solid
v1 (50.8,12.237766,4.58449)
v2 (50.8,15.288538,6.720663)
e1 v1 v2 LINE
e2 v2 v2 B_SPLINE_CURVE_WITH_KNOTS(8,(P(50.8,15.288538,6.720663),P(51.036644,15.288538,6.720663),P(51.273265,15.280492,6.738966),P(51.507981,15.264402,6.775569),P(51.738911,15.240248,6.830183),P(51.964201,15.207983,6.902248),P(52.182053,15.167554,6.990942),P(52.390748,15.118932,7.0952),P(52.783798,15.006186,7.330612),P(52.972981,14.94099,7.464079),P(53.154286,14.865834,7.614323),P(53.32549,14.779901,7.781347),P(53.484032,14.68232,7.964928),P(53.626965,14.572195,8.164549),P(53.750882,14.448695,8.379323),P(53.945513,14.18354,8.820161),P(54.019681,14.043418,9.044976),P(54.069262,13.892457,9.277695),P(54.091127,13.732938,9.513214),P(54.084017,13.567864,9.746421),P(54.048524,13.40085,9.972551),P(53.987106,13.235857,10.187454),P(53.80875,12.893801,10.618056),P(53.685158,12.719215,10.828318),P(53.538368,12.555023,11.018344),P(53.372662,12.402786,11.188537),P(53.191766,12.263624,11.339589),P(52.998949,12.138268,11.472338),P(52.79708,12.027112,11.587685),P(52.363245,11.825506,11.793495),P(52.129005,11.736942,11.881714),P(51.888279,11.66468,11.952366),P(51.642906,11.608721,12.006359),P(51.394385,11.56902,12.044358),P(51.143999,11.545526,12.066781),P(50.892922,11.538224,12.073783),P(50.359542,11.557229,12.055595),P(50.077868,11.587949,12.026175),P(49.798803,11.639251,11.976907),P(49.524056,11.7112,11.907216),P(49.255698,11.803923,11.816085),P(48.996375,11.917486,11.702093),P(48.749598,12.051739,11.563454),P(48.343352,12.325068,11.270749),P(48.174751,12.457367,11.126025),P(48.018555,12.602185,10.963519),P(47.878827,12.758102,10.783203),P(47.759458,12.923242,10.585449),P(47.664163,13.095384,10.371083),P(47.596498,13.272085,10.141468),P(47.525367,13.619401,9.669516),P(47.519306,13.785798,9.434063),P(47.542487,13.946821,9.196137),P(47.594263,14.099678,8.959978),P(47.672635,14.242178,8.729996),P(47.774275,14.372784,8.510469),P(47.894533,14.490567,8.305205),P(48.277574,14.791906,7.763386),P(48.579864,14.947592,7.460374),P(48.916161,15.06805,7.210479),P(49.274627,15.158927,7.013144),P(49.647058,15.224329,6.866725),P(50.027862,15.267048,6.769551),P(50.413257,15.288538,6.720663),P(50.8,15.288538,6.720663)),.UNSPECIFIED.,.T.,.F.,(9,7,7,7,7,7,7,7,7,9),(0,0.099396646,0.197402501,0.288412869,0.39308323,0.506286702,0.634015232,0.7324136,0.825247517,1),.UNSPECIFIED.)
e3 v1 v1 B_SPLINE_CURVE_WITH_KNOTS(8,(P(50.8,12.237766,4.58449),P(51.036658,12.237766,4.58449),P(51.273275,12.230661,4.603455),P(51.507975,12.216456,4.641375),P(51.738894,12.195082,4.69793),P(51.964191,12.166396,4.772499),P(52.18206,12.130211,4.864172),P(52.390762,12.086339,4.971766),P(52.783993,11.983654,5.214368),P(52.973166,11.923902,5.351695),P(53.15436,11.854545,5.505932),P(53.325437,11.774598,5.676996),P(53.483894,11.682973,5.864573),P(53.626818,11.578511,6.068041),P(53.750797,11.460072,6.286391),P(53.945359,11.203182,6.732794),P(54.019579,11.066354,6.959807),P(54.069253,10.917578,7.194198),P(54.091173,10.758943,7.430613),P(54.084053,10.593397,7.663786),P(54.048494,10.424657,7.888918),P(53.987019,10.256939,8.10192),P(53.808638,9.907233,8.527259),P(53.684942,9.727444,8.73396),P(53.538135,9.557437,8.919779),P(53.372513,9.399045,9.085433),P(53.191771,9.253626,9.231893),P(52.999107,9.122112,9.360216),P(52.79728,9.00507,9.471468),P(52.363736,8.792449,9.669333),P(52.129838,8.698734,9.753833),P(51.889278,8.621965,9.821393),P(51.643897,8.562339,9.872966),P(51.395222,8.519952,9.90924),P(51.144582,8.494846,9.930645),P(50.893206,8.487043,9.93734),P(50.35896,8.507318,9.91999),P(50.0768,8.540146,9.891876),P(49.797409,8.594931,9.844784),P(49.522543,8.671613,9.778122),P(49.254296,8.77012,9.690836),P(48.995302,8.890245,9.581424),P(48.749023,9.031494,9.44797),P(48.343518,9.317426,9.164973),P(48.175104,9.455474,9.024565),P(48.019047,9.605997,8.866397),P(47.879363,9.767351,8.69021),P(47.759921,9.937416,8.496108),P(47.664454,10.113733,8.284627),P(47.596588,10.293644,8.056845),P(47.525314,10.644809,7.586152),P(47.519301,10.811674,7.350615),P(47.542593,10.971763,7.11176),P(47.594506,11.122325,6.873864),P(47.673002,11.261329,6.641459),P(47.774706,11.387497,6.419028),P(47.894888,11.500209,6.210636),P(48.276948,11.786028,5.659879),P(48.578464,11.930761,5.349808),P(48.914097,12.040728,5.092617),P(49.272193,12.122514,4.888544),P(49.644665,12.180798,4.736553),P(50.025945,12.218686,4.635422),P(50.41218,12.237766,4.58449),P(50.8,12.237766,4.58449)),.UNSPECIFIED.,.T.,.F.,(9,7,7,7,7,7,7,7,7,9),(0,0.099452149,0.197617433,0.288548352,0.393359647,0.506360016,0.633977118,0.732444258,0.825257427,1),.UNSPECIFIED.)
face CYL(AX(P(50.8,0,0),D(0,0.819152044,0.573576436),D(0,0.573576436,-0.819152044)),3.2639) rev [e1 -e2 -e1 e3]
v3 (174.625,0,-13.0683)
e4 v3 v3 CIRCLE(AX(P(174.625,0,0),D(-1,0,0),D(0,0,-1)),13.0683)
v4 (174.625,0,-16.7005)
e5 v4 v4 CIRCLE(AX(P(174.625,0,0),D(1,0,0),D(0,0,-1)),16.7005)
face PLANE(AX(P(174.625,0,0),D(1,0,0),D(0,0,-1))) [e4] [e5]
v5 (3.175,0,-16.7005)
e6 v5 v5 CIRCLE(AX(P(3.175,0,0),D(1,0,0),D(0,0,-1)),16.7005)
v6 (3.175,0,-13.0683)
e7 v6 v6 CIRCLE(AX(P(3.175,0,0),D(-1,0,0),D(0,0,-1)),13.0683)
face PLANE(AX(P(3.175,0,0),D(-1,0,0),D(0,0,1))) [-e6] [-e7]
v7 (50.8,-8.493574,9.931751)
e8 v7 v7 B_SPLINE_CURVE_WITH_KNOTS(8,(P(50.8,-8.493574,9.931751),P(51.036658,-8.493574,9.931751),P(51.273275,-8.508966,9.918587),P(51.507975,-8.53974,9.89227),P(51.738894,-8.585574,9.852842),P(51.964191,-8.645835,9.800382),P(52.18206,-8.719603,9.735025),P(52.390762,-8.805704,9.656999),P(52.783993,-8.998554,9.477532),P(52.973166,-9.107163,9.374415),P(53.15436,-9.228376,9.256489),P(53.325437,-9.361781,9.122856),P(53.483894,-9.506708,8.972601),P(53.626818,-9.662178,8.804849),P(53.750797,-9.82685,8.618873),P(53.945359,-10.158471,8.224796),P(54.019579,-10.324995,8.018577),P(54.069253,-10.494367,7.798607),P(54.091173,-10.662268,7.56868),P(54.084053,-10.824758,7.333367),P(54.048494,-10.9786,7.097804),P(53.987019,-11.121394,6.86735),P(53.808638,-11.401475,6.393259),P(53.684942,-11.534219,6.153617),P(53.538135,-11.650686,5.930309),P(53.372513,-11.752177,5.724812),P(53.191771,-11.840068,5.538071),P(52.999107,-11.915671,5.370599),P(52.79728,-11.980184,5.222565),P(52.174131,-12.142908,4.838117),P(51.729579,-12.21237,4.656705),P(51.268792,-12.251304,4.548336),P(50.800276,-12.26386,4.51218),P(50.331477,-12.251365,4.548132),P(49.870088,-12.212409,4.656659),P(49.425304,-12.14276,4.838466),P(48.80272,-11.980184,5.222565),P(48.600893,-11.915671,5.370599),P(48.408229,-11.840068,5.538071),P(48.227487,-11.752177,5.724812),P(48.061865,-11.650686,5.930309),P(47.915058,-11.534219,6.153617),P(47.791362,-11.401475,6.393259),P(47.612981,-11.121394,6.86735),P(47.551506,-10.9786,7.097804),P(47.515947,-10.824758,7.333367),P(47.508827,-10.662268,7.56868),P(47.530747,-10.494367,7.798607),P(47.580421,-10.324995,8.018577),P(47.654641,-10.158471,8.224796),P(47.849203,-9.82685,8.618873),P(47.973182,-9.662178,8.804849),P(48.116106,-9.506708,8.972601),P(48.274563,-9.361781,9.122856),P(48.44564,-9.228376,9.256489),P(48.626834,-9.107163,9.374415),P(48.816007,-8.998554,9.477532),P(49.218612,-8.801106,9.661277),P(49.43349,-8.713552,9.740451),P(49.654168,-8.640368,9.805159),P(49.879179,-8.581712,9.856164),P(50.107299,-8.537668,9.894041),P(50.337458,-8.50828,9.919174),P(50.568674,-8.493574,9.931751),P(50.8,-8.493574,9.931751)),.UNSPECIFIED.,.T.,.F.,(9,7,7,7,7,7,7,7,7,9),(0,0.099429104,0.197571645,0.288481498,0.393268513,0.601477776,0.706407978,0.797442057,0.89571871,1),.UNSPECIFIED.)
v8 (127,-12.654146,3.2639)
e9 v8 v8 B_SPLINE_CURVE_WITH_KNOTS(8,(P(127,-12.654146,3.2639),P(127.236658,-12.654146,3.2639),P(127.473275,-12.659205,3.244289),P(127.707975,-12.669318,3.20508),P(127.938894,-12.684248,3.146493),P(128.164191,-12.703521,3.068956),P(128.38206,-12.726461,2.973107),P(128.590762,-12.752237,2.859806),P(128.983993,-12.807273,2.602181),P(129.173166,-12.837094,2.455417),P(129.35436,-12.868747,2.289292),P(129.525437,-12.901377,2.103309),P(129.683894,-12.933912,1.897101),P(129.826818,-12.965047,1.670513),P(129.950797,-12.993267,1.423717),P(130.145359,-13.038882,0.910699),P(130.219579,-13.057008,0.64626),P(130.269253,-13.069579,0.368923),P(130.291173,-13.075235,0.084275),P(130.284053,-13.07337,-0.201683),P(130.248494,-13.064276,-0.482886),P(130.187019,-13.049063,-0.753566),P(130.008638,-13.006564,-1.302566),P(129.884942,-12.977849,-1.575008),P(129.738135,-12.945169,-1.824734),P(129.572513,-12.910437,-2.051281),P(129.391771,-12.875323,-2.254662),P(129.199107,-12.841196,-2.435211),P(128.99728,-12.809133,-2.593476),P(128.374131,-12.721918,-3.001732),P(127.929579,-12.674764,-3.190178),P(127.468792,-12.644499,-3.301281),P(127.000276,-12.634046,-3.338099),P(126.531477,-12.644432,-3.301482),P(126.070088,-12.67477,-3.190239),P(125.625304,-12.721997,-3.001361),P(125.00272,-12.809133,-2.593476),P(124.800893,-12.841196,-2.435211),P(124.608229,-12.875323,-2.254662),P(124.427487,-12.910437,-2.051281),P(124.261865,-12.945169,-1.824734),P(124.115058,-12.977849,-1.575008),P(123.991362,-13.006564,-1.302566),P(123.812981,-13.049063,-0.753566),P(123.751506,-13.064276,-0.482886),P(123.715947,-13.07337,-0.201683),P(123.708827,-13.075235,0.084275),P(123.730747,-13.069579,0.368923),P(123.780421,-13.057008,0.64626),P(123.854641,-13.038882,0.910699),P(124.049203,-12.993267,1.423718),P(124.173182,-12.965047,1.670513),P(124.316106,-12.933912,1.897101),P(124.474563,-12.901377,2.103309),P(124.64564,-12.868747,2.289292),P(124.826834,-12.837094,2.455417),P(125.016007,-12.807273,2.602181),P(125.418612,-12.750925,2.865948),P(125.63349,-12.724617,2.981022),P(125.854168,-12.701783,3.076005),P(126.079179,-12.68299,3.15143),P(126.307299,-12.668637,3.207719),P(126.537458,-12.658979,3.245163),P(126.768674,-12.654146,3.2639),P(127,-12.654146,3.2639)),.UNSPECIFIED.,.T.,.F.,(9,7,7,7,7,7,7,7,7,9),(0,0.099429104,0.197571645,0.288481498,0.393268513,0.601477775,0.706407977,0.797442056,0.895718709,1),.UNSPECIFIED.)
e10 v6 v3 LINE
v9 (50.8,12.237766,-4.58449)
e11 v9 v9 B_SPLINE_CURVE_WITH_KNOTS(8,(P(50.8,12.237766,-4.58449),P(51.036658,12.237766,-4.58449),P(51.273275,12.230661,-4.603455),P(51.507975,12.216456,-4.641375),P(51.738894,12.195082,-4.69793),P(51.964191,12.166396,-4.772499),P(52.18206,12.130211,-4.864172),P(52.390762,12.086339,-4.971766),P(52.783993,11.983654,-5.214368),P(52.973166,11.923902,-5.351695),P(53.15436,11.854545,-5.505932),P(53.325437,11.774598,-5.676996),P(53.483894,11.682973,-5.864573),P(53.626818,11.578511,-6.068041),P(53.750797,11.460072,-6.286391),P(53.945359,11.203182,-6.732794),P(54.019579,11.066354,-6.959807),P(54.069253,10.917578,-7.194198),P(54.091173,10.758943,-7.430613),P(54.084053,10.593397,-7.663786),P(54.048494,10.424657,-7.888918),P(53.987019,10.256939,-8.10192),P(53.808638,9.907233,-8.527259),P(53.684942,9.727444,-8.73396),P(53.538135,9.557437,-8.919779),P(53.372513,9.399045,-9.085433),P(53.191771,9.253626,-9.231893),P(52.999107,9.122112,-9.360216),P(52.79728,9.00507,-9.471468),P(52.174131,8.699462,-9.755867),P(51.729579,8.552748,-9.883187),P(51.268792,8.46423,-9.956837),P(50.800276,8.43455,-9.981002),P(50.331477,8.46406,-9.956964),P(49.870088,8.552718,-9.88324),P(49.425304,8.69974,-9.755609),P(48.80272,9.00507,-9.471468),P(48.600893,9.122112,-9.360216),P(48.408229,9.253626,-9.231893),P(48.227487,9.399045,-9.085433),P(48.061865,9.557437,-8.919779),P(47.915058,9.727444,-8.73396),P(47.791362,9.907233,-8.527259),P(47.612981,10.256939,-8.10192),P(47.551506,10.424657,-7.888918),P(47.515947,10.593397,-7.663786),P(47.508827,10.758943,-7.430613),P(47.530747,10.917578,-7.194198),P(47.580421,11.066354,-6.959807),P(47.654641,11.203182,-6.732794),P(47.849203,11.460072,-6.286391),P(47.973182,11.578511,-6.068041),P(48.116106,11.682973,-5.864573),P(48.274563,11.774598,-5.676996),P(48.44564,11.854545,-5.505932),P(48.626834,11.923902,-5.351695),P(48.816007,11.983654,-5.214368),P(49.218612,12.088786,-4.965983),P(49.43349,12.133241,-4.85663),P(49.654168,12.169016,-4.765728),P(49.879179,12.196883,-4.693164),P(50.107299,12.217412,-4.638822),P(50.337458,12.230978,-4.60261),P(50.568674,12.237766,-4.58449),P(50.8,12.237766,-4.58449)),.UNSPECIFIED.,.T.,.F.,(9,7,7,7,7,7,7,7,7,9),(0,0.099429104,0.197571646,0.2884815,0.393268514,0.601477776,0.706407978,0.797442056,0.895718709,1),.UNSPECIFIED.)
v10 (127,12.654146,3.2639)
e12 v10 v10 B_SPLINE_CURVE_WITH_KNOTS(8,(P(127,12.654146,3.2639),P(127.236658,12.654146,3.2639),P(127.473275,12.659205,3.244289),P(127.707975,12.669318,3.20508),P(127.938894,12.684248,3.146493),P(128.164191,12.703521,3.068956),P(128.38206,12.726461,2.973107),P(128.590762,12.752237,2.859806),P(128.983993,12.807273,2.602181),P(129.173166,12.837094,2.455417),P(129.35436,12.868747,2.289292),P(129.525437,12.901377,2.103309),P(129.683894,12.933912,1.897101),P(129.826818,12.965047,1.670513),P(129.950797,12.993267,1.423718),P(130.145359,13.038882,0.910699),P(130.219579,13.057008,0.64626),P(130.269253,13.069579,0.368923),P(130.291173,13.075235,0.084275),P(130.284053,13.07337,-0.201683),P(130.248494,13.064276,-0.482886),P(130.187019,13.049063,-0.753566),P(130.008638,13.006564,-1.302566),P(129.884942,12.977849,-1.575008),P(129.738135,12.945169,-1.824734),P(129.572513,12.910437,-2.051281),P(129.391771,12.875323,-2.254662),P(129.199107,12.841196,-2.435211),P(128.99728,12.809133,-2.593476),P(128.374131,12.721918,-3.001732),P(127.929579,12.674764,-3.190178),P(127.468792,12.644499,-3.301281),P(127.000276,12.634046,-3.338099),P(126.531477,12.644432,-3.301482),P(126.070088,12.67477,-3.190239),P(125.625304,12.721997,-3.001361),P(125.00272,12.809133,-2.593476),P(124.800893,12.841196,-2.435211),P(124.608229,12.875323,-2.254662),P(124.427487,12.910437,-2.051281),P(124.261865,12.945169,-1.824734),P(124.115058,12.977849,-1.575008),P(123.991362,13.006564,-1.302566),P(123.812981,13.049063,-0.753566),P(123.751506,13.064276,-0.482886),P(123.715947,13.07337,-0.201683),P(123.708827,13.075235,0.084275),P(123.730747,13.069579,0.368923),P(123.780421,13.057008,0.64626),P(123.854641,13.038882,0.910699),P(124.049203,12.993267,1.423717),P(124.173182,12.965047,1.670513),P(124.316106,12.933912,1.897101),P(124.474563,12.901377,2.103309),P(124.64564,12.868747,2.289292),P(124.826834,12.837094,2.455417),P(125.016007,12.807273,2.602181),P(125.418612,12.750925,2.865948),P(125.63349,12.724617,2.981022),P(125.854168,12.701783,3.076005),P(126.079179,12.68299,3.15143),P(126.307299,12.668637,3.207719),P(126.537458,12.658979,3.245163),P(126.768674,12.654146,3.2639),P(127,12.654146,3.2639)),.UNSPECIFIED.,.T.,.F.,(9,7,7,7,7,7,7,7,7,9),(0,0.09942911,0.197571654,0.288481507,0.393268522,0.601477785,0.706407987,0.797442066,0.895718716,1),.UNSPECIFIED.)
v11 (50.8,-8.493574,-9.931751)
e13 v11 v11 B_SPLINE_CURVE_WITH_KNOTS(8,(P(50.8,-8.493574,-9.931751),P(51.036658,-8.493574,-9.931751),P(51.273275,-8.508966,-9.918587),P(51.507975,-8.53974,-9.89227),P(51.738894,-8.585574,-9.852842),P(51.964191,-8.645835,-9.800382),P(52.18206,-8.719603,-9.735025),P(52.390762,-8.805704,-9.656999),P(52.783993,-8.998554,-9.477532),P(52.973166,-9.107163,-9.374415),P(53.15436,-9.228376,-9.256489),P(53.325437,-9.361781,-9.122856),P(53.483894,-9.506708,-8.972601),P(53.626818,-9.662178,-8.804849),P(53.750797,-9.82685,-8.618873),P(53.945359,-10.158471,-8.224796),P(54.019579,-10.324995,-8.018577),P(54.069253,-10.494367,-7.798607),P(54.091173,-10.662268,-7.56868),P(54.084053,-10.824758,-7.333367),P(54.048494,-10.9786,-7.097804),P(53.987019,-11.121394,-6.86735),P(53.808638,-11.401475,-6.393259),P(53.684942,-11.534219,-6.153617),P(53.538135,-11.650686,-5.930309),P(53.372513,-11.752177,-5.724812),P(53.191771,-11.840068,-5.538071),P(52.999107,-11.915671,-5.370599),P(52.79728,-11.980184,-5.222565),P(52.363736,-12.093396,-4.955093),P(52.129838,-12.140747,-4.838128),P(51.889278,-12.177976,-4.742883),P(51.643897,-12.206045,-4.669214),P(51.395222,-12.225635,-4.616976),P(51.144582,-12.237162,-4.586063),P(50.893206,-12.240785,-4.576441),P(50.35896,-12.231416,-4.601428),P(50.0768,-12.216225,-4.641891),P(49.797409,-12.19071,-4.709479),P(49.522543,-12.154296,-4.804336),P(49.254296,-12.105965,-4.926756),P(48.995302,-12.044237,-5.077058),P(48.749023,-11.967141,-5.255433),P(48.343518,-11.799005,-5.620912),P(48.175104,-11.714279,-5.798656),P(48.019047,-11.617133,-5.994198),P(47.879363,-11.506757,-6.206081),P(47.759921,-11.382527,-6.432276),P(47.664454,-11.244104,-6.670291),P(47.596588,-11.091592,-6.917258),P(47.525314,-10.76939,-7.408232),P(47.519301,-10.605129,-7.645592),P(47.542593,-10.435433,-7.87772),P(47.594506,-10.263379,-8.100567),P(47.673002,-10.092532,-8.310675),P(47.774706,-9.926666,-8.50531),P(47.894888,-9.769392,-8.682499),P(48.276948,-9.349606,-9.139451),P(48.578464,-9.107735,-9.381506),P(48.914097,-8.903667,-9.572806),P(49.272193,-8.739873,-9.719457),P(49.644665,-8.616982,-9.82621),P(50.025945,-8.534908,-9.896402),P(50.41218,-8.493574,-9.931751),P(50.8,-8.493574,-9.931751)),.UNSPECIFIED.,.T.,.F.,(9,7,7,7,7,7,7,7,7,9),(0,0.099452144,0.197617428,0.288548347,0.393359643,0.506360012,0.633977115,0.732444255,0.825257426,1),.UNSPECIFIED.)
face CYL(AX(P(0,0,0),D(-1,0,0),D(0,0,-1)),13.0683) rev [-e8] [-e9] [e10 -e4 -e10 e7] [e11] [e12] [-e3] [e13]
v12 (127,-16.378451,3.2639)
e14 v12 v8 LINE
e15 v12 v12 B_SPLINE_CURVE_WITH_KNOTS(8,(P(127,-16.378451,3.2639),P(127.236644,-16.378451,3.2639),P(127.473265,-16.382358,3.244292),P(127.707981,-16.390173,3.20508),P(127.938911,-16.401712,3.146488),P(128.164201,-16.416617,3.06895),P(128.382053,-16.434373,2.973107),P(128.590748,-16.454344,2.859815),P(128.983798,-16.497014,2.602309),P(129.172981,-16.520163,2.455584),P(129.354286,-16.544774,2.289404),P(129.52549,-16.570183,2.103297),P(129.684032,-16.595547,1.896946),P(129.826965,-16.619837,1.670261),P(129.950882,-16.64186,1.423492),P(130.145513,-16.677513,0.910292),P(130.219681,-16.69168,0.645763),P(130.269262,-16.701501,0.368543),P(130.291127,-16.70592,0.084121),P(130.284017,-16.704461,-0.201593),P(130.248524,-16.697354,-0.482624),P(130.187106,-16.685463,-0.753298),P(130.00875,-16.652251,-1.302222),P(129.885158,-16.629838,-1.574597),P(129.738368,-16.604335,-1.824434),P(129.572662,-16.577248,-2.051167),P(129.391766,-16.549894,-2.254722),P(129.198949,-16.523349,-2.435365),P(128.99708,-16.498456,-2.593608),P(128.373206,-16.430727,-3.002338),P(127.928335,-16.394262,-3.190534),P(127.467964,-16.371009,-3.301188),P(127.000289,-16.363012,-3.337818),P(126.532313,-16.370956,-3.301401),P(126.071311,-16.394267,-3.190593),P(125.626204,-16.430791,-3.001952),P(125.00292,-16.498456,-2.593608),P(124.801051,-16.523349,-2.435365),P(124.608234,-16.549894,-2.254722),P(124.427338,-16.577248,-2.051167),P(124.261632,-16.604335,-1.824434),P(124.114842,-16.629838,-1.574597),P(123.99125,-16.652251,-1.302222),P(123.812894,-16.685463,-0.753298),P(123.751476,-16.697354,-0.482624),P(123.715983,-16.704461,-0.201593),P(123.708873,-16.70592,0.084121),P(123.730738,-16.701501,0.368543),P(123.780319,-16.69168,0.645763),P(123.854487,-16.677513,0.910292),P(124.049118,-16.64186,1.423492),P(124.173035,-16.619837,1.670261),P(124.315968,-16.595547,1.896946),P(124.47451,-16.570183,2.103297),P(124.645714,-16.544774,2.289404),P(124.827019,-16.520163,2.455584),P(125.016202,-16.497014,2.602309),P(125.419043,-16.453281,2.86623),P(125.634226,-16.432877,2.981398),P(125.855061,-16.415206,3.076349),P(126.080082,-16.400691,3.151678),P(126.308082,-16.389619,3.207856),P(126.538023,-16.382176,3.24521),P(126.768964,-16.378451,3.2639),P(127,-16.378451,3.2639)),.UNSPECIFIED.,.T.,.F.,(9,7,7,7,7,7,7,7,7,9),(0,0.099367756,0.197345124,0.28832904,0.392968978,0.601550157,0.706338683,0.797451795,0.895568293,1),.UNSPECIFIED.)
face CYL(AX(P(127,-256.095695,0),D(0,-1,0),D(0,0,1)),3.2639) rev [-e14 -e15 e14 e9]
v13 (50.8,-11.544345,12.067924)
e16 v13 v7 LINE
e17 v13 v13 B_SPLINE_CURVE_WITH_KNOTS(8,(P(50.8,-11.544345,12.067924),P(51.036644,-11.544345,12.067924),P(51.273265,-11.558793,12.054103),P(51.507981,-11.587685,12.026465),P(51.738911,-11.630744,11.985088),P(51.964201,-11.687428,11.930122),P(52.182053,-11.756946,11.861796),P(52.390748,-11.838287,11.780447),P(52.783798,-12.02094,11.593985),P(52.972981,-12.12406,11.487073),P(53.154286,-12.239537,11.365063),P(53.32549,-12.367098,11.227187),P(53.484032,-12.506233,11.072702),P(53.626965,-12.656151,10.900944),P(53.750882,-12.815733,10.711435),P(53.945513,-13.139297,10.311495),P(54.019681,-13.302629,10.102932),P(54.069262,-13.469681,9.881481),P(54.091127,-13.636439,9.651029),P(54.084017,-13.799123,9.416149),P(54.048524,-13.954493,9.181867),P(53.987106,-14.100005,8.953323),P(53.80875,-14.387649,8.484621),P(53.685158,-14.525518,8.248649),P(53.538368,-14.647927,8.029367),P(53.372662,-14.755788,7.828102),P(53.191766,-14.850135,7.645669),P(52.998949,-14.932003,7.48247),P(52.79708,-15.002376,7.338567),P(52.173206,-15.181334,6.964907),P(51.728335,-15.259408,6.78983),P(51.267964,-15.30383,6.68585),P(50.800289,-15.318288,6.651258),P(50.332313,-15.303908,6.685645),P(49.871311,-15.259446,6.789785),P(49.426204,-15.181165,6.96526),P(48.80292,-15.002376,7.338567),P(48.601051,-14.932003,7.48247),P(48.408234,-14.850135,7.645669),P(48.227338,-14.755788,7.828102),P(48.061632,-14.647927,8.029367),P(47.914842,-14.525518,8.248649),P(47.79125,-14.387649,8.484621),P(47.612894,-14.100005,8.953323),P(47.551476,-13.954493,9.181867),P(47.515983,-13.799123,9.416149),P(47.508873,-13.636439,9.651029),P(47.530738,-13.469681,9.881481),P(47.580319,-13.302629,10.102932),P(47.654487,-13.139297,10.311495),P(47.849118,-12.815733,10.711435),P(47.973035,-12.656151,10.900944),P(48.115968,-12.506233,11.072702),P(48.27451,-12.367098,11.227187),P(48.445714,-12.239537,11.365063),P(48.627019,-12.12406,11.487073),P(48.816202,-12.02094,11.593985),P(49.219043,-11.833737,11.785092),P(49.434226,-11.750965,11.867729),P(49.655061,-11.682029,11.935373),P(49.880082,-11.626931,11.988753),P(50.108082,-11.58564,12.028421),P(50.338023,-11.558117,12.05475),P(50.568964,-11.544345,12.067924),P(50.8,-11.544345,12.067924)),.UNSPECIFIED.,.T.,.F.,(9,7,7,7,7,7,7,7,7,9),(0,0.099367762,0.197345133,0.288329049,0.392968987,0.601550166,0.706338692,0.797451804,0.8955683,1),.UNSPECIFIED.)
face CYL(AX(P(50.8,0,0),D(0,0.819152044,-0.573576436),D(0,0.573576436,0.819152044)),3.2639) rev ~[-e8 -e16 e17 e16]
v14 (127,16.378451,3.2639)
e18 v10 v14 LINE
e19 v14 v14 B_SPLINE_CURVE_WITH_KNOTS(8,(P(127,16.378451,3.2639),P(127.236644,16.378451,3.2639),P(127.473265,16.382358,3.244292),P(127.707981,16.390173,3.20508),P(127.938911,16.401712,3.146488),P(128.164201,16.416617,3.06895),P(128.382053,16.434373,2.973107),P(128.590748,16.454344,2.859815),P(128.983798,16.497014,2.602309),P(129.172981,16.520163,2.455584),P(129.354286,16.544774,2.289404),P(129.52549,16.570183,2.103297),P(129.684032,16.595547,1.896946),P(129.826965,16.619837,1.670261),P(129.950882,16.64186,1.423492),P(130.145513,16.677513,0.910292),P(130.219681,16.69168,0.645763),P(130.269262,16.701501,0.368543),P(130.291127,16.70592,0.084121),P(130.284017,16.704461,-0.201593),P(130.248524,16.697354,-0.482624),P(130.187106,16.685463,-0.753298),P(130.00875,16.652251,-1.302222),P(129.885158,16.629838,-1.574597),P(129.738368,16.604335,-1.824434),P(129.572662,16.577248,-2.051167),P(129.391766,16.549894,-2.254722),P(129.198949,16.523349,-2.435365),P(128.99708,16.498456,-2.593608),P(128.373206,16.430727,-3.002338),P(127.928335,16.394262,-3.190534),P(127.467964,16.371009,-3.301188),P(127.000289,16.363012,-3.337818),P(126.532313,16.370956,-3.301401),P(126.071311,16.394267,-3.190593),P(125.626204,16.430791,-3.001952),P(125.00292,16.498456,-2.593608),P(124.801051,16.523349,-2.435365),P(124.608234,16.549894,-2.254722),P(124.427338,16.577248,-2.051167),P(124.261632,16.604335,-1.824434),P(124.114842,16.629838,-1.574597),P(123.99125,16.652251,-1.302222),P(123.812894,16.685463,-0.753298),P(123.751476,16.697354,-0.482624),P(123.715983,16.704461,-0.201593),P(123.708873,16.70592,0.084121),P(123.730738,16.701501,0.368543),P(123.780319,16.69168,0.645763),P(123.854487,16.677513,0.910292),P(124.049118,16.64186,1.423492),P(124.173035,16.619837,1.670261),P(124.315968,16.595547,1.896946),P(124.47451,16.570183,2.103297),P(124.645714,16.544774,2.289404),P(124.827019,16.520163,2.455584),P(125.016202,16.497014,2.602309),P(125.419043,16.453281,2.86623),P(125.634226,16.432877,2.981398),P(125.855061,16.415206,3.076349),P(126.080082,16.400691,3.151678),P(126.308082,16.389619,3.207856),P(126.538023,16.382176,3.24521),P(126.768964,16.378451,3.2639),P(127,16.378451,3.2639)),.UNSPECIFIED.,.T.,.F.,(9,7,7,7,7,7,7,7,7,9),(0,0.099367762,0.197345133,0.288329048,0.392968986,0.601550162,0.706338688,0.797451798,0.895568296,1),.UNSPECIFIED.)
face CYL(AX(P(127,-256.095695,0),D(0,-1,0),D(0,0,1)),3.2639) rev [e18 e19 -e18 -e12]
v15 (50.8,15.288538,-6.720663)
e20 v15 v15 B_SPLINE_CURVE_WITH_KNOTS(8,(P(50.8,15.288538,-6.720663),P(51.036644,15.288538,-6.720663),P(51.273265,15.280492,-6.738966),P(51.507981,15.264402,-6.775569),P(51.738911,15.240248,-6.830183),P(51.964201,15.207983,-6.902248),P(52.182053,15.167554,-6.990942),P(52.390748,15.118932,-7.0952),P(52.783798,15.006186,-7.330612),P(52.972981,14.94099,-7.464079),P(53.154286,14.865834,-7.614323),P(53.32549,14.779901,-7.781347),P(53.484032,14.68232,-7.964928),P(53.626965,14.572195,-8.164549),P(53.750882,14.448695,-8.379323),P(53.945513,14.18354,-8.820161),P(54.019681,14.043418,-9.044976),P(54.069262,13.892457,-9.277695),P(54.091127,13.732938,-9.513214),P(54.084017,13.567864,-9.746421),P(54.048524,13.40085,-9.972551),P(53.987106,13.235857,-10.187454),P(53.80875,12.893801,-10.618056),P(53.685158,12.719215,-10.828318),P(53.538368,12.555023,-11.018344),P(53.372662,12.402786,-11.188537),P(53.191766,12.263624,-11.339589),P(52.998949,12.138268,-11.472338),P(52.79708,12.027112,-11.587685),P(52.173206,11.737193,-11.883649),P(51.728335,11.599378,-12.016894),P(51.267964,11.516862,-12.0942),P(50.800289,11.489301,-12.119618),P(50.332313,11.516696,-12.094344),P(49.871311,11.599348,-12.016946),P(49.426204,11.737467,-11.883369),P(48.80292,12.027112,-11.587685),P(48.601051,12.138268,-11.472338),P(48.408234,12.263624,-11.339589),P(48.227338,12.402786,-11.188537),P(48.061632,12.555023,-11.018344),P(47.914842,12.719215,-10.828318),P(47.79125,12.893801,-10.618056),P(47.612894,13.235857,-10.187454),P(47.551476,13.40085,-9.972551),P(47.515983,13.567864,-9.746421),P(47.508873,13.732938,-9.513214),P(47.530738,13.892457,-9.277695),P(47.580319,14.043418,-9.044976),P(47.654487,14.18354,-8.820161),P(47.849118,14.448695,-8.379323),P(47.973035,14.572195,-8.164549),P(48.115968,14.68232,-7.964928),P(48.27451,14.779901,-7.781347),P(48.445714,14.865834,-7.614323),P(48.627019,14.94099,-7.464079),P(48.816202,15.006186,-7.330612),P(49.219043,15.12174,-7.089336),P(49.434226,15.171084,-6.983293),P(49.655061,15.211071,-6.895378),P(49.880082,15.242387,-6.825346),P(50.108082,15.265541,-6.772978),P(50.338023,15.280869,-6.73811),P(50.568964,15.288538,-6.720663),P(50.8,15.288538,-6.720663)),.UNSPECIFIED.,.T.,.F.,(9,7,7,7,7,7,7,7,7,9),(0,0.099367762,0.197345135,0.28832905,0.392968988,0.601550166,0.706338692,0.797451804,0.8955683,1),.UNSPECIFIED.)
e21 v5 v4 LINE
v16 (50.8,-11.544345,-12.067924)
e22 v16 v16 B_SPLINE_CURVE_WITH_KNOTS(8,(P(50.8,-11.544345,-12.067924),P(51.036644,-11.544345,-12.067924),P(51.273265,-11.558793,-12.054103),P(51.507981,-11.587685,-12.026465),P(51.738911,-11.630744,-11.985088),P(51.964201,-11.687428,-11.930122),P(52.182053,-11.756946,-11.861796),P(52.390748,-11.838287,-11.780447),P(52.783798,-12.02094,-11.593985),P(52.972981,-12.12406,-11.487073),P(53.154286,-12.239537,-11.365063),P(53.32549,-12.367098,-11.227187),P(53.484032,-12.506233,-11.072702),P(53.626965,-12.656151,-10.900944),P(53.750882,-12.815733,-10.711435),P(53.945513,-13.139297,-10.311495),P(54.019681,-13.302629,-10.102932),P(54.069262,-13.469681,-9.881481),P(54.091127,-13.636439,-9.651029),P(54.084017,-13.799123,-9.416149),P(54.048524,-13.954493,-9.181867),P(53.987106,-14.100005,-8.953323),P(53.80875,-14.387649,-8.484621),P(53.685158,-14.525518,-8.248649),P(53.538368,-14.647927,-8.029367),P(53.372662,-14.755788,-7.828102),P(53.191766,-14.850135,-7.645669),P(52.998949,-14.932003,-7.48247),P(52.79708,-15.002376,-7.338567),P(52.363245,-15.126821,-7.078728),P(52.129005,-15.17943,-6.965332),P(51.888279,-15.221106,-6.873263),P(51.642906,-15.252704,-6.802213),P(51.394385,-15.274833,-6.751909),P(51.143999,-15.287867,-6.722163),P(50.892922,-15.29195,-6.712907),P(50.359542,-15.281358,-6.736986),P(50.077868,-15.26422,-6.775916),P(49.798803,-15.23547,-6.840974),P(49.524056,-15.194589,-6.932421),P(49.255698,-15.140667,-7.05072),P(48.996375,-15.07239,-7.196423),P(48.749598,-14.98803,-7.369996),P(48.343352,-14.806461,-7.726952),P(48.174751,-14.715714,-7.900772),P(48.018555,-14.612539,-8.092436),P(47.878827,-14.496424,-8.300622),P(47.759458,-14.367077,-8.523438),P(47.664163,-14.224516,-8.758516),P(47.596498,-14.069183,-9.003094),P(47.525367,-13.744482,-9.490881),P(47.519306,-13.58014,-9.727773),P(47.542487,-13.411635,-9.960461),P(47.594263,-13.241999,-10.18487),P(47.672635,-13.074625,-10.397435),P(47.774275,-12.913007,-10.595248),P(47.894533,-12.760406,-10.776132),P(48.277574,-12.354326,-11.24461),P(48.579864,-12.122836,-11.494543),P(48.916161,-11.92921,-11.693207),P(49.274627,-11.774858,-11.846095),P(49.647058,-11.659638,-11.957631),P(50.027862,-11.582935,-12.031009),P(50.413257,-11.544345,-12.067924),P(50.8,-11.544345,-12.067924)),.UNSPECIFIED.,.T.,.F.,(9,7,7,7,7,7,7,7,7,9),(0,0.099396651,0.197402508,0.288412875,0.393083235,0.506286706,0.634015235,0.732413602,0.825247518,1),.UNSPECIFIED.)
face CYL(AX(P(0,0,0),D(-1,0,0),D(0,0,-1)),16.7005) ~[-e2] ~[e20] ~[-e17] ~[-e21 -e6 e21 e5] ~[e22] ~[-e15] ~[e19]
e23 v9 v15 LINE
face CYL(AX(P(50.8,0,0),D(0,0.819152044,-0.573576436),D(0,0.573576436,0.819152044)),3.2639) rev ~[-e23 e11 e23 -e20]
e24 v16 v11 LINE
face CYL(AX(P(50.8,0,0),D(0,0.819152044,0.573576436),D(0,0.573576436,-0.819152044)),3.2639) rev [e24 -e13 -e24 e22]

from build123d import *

# Parameters (mm, degrees)
SKETCH1_R               = 16.7005
SKETCH1_R_2             = 13.0683
BOSS_EXTRUDE1_DEPTH     = 254
CUT_EXTRUDE2_DEPTH      = 256.095694594
CUT_EXTRUDE2_DEPTH_BACK = 256.095694594
SKETCH3_R               = 3.2639
SKETCH4_R               = 3.2639
CUT_EXTRUDE3_DEPTH      = 256.095694707
CUT_EXTRUDE4_START      = -79.375
SKETCH5_R               = 16.7005
CUT_EXTRUDE4_DEPTH      = 79.375
SKETCH7_R               = 16.7005
CUT_EXTRUDE6_DEPTH      = 3.175


with BuildPart() as part:
    # Sketch1 → Boss-Extrude1 (new body)
    with BuildSketch(Plane(origin=(0, 0, 0), x_dir=(0, 0, -1), z_dir=(1, 0, 0))):
        Circle(SKETCH1_R)
        Circle(SKETCH1_R_2, mode=Mode.SUBTRACT)
    extrude(amount=BOSS_EXTRUDE1_DEPTH)

    # Sketch3 → Cut-Extrude2 (cut, two sides: drawn at the far end of the back side and taken through both)
    with BuildSketch(Plane(origin=(0, 0, 0), x_dir=(1, 0, 0), z_dir=(0, 1, 0)).offset(-CUT_EXTRUDE2_DEPTH_BACK)):
        with Locations((127, 0)):
            Circle(SKETCH3_R)
    extrude(amount=CUT_EXTRUDE2_DEPTH + CUT_EXTRUDE2_DEPTH_BACK, mode=Mode.SUBTRACT)

    # Sketch4 → Cut-Extrude3 (cut, symmetric)
    with BuildSketch(Plane(origin=(0, 0, 0), x_dir=(-1, 0, 0), z_dir=(0, 0.819152044288991, -0.5735764363510473))):
        with Locations((-203.2, 0)):
            Circle(SKETCH4_R)
        with Locations((-50.8, 0)):
            Circle(SKETCH4_R)
    cut_extrude3 = extrude(amount=CUT_EXTRUDE3_DEPTH, both=True, mode=Mode.SUBTRACT)

    # Sketch5 → Cut-Extrude4 (cut)
    with BuildSketch(Plane(origin=(254, 0, 0), x_dir=(0, 0, -1), z_dir=(1, 0, 0)).offset(CUT_EXTRUDE4_START)):
        Circle(SKETCH5_R)
    extrude(amount=CUT_EXTRUDE4_DEPTH, mode=Mode.SUBTRACT)

    # Mirror1: Cut-Extrude3 across plane
    add(cut_extrude3.mirror(Plane.XY), mode=Mode.SUBTRACT)

    # Sketch7 → Cut-Extrude6 (cut)
    with BuildSketch(Plane.ZY):
        Circle(SKETCH7_R)
    extrude(amount=-CUT_EXTRUDE6_DEPTH, mode=Mode.SUBTRACT)


solid = part.part
